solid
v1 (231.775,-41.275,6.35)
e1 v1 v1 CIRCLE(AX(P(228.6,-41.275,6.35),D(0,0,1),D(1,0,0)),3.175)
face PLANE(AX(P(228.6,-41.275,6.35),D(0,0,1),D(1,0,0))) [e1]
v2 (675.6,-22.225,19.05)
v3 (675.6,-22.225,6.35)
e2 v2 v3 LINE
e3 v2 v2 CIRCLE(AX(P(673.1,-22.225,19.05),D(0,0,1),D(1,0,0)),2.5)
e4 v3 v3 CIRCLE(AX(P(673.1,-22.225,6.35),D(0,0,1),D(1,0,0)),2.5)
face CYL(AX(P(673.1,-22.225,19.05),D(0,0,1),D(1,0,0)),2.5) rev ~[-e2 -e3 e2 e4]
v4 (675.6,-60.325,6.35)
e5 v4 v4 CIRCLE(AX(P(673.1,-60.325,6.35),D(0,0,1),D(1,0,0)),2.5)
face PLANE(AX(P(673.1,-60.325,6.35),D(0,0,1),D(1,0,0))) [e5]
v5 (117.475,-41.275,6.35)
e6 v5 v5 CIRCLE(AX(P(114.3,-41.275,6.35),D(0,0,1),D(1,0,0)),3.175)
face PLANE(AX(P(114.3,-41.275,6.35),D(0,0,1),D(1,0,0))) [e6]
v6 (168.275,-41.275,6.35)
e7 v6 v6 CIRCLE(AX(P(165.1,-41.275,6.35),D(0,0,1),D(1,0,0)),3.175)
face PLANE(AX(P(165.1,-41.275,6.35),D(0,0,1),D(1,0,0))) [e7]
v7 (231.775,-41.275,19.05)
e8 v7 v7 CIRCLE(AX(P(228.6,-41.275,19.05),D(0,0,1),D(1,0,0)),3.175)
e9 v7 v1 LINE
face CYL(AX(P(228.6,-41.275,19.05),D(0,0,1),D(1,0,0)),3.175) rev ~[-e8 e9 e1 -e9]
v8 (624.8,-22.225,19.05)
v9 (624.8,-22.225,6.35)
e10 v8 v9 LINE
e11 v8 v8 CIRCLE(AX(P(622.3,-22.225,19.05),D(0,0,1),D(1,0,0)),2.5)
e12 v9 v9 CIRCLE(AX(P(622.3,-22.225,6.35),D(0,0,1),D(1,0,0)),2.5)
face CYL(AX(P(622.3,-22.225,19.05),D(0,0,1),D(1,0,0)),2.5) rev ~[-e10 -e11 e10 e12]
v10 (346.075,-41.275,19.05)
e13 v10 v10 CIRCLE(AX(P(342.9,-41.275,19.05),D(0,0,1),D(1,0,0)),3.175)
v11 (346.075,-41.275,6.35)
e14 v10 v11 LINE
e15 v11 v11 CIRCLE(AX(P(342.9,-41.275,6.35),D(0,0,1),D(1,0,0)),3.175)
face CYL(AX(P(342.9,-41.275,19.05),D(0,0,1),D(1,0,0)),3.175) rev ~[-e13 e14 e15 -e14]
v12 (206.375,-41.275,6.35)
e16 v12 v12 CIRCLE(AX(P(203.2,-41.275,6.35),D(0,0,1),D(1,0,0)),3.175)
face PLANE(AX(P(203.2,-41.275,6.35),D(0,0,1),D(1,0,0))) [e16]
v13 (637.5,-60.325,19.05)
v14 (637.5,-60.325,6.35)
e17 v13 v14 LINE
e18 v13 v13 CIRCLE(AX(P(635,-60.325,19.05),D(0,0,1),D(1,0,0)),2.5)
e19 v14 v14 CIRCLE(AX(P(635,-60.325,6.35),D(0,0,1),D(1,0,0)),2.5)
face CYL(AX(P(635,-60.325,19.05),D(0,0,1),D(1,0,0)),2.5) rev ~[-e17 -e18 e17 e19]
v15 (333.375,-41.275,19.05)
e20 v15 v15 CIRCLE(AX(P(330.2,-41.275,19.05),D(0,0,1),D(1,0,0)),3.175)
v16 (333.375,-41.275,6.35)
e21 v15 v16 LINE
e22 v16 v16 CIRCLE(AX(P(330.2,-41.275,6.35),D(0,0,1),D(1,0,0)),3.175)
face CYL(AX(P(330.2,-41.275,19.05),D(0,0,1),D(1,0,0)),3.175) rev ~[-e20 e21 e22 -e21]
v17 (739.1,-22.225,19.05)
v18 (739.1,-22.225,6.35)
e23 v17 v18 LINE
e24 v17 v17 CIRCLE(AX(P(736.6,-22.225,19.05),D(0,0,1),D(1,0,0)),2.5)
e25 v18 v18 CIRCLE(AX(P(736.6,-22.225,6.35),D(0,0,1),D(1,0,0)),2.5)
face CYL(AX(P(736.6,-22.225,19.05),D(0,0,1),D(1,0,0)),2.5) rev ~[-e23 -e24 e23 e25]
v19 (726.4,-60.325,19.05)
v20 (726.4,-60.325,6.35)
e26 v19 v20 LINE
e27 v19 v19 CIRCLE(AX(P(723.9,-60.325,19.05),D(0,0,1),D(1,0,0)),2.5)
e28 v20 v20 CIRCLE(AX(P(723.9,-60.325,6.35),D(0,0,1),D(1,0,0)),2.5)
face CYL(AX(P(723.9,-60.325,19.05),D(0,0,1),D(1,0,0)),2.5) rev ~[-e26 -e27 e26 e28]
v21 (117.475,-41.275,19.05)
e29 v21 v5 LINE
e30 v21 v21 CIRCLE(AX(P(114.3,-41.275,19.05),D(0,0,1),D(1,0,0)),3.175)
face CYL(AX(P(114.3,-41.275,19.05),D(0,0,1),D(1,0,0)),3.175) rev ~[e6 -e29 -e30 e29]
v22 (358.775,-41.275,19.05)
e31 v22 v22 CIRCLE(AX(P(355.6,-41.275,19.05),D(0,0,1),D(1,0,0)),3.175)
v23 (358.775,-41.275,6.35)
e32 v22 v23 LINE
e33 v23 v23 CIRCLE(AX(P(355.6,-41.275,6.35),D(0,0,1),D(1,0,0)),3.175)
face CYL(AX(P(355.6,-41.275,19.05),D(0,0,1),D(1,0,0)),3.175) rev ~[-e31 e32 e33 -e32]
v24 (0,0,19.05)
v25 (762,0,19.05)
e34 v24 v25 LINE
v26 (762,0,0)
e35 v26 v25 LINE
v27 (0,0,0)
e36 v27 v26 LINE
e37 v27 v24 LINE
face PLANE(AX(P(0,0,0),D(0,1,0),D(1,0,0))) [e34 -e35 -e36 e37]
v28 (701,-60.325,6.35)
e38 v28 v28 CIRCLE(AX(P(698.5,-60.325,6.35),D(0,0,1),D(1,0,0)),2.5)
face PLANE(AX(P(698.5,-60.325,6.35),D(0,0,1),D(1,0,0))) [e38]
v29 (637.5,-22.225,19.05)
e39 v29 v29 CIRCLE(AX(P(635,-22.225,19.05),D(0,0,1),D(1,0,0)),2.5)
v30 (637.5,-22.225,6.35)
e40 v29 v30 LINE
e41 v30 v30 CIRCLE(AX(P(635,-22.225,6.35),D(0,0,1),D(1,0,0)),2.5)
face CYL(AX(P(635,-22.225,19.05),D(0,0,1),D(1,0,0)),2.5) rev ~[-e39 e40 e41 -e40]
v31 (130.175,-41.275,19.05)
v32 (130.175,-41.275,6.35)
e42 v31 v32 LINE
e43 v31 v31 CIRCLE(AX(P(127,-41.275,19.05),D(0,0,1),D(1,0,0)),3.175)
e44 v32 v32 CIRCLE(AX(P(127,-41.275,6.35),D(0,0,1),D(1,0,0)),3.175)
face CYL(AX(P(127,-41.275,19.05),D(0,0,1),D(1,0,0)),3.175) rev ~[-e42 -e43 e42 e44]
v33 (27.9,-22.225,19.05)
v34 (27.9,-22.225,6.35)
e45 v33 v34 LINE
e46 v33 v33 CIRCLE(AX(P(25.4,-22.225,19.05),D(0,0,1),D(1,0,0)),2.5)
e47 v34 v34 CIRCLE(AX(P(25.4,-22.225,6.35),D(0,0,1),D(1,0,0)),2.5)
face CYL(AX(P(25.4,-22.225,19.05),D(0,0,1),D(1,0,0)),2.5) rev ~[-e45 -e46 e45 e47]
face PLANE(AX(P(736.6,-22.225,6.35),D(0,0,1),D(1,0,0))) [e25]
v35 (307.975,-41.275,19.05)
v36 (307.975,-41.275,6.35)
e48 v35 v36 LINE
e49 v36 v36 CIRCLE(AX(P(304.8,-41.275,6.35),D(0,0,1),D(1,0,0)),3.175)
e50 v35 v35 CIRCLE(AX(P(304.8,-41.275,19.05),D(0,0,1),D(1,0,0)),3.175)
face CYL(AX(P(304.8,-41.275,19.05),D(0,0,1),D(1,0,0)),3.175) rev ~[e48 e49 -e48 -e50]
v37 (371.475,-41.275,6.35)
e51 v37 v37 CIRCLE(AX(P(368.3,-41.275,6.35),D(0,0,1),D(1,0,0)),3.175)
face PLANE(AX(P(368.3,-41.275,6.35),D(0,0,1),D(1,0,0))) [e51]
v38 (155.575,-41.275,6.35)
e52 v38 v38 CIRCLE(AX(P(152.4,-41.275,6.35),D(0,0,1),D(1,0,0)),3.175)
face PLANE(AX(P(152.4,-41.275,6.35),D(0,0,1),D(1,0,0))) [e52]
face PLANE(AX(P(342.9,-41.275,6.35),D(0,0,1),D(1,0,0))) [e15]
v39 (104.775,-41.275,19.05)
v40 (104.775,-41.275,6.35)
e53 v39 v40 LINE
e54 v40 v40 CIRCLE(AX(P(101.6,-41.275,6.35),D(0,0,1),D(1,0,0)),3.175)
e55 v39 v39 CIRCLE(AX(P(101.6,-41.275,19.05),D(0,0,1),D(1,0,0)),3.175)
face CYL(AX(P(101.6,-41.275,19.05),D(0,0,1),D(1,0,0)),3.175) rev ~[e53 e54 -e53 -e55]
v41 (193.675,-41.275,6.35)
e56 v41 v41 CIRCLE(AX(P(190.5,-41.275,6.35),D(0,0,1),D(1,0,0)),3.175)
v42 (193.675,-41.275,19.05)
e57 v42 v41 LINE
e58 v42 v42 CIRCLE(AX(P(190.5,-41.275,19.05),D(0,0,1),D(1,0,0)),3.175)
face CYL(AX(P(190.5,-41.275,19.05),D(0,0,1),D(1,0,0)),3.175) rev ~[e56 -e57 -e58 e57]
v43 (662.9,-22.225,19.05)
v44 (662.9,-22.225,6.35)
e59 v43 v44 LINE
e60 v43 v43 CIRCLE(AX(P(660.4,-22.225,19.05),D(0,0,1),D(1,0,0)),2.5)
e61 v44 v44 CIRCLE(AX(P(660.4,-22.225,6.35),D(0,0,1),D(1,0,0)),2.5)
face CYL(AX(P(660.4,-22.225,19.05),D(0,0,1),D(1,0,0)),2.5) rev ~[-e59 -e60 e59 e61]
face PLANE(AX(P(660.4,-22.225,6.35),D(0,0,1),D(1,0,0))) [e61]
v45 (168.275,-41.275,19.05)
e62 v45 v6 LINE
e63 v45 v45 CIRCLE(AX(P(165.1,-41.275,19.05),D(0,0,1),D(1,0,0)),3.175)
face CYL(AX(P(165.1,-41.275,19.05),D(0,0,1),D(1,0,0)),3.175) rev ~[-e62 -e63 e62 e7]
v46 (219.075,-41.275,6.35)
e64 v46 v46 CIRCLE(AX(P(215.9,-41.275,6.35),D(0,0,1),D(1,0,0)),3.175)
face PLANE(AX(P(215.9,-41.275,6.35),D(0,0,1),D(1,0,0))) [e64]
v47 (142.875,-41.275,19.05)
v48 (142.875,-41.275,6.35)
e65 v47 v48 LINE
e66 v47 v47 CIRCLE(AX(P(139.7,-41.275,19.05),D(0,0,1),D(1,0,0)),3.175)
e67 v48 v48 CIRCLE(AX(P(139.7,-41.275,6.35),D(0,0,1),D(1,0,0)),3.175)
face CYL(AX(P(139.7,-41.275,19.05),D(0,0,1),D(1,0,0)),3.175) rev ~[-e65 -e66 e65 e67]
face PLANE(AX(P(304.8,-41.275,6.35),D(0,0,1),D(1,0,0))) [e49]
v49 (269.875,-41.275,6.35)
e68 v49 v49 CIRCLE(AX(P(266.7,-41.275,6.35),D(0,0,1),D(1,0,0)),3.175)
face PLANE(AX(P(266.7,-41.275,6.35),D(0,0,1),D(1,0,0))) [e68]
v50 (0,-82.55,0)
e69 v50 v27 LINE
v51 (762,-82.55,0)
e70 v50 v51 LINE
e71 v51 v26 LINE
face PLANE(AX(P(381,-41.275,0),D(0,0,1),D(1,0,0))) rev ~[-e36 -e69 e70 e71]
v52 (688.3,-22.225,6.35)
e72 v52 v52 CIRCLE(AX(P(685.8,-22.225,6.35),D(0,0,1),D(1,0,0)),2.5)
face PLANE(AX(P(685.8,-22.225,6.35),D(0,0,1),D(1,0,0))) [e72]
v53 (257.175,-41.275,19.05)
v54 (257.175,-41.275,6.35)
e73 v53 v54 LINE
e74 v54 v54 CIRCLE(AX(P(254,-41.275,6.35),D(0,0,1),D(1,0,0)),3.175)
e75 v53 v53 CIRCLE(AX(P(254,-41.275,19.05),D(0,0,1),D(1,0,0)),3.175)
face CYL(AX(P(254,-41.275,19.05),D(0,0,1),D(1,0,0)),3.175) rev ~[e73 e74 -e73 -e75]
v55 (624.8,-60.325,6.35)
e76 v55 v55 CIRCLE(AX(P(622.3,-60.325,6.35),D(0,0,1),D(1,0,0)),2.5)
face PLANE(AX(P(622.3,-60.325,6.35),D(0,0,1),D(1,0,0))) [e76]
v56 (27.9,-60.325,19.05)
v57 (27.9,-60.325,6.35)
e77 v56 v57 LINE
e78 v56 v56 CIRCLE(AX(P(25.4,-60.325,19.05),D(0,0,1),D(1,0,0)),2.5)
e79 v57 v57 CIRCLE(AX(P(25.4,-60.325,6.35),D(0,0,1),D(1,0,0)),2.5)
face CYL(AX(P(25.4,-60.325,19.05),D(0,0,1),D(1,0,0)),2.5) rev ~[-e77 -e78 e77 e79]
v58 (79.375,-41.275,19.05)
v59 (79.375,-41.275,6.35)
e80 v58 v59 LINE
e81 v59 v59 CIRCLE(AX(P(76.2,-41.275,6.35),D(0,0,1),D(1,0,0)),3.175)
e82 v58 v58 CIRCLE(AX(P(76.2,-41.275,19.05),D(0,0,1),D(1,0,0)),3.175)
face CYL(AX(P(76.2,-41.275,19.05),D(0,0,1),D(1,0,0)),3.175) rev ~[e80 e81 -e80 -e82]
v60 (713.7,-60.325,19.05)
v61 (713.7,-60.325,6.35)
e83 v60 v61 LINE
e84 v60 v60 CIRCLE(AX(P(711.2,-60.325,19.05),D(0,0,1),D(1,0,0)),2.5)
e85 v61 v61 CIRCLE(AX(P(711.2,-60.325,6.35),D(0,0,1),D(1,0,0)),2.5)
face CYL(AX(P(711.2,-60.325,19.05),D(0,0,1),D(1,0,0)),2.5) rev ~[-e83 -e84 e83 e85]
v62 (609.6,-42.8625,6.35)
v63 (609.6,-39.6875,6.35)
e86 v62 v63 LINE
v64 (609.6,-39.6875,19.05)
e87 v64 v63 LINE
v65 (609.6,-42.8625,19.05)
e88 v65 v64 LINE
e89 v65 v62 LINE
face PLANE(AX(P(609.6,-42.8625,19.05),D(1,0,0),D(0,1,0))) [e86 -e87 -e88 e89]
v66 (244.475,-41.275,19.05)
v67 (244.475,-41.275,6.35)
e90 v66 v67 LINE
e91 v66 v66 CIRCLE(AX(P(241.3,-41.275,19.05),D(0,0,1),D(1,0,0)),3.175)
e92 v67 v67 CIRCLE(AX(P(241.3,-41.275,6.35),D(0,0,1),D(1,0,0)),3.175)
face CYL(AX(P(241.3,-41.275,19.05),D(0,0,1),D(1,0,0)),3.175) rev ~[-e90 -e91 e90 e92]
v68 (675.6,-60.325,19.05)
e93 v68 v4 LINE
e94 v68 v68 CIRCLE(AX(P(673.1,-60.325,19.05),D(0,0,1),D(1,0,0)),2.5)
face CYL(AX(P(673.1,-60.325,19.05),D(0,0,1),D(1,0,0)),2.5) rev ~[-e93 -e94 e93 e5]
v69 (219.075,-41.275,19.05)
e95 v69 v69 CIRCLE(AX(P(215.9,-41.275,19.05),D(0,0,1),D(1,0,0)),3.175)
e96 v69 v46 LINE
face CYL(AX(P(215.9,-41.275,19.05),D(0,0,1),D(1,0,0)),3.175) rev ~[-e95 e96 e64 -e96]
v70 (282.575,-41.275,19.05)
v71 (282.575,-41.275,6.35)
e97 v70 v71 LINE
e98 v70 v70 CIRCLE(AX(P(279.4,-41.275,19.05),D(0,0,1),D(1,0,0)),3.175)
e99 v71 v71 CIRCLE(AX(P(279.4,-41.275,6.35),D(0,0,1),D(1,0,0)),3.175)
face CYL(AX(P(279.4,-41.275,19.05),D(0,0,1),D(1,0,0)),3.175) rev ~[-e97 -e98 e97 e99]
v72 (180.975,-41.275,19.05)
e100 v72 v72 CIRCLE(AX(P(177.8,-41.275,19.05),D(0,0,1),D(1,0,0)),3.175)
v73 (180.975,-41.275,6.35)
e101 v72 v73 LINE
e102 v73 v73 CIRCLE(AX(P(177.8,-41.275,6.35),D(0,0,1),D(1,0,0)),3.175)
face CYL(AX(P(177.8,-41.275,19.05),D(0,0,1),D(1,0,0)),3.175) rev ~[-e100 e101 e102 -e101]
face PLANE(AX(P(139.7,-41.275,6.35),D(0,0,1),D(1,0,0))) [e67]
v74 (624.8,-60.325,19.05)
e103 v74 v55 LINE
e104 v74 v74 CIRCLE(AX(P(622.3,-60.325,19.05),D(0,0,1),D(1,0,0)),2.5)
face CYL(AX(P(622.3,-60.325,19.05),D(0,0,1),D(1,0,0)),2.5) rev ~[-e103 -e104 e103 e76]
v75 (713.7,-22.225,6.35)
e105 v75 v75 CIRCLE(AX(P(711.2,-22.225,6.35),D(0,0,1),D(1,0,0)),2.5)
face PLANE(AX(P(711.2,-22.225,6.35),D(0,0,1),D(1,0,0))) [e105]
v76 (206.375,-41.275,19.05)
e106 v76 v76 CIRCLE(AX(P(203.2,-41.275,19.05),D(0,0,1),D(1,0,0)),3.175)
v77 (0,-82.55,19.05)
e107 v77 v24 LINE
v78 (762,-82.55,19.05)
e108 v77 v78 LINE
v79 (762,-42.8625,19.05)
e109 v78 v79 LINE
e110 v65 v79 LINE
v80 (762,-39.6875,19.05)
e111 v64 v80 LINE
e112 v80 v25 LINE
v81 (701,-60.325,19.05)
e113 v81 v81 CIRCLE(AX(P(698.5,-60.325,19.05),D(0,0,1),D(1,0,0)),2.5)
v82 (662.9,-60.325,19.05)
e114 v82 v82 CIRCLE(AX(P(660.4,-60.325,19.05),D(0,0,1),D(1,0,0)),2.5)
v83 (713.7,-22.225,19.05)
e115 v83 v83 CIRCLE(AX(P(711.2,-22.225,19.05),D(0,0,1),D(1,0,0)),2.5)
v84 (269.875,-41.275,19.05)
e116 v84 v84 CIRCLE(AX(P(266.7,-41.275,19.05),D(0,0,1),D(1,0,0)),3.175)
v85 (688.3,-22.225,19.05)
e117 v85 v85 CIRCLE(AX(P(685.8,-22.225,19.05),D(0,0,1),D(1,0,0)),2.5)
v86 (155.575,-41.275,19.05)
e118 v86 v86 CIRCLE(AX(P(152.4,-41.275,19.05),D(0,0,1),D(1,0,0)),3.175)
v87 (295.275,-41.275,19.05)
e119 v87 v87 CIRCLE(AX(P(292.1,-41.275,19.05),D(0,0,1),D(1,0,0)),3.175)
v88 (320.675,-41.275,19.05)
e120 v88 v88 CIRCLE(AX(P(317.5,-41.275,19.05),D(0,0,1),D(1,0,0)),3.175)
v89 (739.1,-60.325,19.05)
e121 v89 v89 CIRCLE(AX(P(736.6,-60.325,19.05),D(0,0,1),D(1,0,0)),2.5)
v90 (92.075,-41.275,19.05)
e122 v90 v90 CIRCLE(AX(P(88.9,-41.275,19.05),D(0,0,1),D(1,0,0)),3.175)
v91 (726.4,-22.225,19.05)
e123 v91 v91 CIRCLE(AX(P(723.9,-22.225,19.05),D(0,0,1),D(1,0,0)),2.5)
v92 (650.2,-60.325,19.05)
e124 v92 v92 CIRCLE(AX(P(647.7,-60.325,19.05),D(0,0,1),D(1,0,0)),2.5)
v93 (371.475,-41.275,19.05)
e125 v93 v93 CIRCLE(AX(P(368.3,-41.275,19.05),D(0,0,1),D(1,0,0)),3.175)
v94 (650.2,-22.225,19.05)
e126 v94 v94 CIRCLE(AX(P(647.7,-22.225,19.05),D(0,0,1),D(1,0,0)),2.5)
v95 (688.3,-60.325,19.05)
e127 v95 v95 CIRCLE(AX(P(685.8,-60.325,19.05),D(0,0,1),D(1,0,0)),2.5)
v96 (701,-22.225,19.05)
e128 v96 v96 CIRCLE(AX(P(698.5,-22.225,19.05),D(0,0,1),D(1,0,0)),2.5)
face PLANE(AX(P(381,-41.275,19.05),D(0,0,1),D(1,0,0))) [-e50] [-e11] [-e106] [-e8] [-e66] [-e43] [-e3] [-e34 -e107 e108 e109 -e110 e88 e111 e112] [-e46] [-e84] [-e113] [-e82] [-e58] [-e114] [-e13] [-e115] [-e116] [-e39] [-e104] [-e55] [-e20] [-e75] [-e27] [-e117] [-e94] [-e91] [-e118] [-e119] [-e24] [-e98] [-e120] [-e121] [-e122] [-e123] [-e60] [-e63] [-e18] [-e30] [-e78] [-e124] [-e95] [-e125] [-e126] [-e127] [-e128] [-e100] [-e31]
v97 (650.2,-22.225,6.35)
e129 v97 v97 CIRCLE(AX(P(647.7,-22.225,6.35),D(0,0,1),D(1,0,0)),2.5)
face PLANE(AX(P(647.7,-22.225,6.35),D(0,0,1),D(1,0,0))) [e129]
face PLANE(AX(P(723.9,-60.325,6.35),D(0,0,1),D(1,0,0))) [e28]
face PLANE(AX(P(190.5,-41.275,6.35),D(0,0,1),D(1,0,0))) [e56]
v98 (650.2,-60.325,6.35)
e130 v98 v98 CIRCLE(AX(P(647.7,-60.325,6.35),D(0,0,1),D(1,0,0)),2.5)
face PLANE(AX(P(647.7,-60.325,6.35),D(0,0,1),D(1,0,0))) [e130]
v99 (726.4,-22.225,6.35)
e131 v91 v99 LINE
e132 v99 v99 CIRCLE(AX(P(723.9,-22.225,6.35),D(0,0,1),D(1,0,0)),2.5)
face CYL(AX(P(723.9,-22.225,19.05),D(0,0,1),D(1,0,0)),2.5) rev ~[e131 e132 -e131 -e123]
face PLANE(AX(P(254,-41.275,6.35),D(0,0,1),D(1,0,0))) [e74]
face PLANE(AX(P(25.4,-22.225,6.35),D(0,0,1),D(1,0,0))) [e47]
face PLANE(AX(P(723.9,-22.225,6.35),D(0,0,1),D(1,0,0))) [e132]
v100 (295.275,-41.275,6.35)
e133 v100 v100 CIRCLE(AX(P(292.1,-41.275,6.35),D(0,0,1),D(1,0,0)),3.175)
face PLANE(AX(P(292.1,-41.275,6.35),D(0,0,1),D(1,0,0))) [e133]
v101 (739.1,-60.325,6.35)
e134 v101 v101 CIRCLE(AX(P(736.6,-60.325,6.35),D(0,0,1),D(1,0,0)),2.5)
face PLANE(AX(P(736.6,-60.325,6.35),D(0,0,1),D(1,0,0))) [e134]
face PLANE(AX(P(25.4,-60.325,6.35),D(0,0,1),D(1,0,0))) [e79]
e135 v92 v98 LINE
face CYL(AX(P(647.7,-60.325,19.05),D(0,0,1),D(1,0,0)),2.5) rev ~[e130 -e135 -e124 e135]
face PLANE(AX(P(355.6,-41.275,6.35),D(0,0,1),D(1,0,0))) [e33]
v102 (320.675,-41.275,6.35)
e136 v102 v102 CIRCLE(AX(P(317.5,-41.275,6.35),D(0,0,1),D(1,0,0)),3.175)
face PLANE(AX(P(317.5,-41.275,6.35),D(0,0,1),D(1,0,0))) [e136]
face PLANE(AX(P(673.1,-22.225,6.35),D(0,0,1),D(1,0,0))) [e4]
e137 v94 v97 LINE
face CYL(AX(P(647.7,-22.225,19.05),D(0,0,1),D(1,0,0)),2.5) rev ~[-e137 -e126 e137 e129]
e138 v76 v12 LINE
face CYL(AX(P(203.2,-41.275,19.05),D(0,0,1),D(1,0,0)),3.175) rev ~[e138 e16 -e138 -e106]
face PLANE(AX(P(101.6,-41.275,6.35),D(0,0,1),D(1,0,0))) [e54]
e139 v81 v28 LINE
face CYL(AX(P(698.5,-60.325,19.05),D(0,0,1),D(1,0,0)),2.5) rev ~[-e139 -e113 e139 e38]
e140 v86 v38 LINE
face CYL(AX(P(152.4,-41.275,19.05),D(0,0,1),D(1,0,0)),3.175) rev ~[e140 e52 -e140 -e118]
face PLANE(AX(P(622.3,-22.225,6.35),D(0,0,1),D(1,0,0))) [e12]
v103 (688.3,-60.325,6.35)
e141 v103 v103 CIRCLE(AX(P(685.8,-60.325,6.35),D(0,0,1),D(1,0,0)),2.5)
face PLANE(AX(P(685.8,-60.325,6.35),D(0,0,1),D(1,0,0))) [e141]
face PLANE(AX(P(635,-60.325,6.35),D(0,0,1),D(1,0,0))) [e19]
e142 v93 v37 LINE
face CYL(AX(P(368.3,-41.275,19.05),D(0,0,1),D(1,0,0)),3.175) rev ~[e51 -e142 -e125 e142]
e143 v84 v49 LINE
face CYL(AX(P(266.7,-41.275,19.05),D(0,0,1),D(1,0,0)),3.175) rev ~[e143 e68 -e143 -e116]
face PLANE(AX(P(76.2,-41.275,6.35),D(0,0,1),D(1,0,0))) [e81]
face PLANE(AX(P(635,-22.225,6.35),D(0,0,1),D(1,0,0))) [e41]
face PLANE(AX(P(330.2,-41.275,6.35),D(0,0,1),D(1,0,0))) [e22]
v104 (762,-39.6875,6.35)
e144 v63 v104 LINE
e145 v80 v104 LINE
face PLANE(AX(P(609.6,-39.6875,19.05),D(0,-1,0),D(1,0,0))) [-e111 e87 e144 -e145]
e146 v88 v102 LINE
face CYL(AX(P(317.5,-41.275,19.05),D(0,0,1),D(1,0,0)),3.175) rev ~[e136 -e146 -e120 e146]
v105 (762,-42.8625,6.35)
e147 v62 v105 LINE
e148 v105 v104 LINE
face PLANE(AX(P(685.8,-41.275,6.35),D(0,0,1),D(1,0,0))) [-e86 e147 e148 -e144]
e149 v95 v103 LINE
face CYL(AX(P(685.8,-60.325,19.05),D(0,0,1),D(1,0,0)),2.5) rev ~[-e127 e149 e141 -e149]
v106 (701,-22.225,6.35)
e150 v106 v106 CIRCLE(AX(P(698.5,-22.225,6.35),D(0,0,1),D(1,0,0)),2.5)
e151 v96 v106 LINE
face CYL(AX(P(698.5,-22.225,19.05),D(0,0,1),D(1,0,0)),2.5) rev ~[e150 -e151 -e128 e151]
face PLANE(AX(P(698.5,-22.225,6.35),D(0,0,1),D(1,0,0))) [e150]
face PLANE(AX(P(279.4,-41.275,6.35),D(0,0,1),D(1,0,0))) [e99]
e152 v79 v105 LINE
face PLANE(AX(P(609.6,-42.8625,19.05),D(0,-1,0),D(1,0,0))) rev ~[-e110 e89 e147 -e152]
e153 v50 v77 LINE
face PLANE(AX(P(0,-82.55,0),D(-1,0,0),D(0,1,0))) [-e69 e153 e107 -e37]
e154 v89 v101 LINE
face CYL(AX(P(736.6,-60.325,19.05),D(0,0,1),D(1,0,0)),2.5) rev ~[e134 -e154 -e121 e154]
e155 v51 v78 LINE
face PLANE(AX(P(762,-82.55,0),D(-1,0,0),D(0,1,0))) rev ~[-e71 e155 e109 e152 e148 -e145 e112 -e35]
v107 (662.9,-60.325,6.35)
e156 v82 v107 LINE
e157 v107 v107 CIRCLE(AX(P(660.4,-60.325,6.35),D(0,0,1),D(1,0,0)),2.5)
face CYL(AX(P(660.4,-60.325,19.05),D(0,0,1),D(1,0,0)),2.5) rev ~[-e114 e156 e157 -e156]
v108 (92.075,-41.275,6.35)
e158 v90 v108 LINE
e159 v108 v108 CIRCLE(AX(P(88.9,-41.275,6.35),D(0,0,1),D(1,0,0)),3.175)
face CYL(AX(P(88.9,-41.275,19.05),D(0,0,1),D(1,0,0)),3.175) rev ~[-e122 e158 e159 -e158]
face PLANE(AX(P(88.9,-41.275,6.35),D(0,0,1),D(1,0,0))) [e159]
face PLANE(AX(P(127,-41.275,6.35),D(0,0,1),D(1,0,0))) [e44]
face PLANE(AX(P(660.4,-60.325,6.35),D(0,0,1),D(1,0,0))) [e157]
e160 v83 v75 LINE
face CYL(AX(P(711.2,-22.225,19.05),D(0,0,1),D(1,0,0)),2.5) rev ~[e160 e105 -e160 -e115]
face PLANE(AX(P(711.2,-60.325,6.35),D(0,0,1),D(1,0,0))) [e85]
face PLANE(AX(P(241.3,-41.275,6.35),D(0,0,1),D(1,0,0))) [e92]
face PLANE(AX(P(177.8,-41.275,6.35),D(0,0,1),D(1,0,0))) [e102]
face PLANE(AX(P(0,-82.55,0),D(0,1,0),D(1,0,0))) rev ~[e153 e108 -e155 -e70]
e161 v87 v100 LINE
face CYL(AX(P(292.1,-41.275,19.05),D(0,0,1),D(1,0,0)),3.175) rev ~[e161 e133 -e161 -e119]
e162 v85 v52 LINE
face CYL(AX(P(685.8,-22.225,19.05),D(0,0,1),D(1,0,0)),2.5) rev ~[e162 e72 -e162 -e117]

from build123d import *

# Parameters (mm, degrees)
F0_W     = 762
F0_H     = 82.55
F1_DEPTH = 19.05
F2_R     = 2.5
F2_R_2   = 3.175
F2_W     = 152.4
F2_H     = 3.175
F3_DEPTH = 12.7


with BuildPart() as f1:
    # F0 (on Top) → F1 (new body)
    with BuildSketch(Plane.XY):
        with Locations((381, -41.275)):
            Rectangle(F0_W, F0_H)
    extrude(amount=F1_DEPTH)

    # F2 (on face) → F3 (cut)
    with BuildSketch(Plane.XY.offset(19.05)):
        with Locations((25.4, -22.225)):
            Circle(F2_R)
        with Locations((25.4, -60.325)):
            Circle(F2_R)
        with Locations((76.2, -41.275)):
            Circle(F2_R_2)
        with Locations((736.6, -22.225)):
            Circle(F2_R)
        with Locations((736.6, -60.325)):
            Circle(F2_R)
        with Locations((88.9, -41.275)):
            Circle(F2_R_2)
        with Locations((101.6, -41.275)):
            Circle(F2_R_2)
        with Locations((114.3, -41.275)):
            Circle(F2_R_2)
        with Locations((127, -41.275)):
            Circle(F2_R_2)
        with Locations((139.7, -41.275)):
            Circle(F2_R_2)
        with Locations((152.4, -41.275)):
            Circle(F2_R_2)
        with Locations((165.1, -41.275)):
            Circle(F2_R_2)
        with Locations((177.8, -41.275)):
            Circle(F2_R_2)
        with Locations((190.5, -41.275)):
            Circle(F2_R_2)
        with Locations((203.2, -41.275)):
            Circle(F2_R_2)
        with Locations((215.9, -41.275)):
            Circle(F2_R_2)
        with Locations((723.9, -22.225)):
            Circle(F2_R)
        with Locations((723.9, -60.325)):
            Circle(F2_R)
        with Locations((711.2, -22.225)):
            Circle(F2_R)
        with Locations((711.2, -60.325)):
            Circle(F2_R)
        with Locations((698.5, -22.225)):
            Circle(F2_R)
        with Locations((698.5, -60.325)):
            Circle(F2_R)
        with Locations((685.8, -22.225)):
            Circle(F2_R)
        with Locations((685.8, -60.325)):
            Circle(F2_R)
        with Locations((673.1, -22.225)):
            Circle(F2_R)
        with Locations((673.1, -60.325)):
            Circle(F2_R)
        with Locations((660.4, -22.225)):
            Circle(F2_R)
        with Locations((660.4, -60.325)):
            Circle(F2_R)
        with Locations((647.7, -22.225)):
            Circle(F2_R)
        with Locations((647.7, -60.325)):
            Circle(F2_R)
        with Locations((635, -22.225)):
            Circle(F2_R)
        with Locations((635, -60.325)):
            Circle(F2_R)
        with Locations((685.8, -41.275)):
            Rectangle(F2_W, F2_H)
        with Locations((622.3, -22.225)):
            Circle(F2_R)
        with Locations((622.3, -60.325)):
            Circle(F2_R)
        with Locations((228.6, -41.275)):
            Circle(F2_R_2)
        with Locations((241.3, -41.275)):
            Circle(F2_R_2)
        with Locations((254, -41.275)):
            Circle(F2_R_2)
        with Locations((266.7, -41.275)):
            Circle(F2_R_2)
        with Locations((279.4, -41.275)):
            Circle(F2_R_2)
        with Locations((292.1, -41.275)):
            Circle(F2_R_2)
        with Locations((304.8, -41.275)):
            Circle(F2_R_2)
        with Locations((317.5, -41.275)):
            Circle(F2_R_2)
        with Locations((330.2, -41.275)):
            Circle(F2_R_2)
        with Locations((342.9, -41.275)):
            Circle(F2_R_2)
        with Locations((355.6, -41.275)):
            Circle(F2_R_2)
        with Locations((368.3, -41.275)):
            Circle(F2_R_2)
    extrude(amount=-F3_DEPTH, mode=Mode.SUBTRACT)


solid = f1.part
